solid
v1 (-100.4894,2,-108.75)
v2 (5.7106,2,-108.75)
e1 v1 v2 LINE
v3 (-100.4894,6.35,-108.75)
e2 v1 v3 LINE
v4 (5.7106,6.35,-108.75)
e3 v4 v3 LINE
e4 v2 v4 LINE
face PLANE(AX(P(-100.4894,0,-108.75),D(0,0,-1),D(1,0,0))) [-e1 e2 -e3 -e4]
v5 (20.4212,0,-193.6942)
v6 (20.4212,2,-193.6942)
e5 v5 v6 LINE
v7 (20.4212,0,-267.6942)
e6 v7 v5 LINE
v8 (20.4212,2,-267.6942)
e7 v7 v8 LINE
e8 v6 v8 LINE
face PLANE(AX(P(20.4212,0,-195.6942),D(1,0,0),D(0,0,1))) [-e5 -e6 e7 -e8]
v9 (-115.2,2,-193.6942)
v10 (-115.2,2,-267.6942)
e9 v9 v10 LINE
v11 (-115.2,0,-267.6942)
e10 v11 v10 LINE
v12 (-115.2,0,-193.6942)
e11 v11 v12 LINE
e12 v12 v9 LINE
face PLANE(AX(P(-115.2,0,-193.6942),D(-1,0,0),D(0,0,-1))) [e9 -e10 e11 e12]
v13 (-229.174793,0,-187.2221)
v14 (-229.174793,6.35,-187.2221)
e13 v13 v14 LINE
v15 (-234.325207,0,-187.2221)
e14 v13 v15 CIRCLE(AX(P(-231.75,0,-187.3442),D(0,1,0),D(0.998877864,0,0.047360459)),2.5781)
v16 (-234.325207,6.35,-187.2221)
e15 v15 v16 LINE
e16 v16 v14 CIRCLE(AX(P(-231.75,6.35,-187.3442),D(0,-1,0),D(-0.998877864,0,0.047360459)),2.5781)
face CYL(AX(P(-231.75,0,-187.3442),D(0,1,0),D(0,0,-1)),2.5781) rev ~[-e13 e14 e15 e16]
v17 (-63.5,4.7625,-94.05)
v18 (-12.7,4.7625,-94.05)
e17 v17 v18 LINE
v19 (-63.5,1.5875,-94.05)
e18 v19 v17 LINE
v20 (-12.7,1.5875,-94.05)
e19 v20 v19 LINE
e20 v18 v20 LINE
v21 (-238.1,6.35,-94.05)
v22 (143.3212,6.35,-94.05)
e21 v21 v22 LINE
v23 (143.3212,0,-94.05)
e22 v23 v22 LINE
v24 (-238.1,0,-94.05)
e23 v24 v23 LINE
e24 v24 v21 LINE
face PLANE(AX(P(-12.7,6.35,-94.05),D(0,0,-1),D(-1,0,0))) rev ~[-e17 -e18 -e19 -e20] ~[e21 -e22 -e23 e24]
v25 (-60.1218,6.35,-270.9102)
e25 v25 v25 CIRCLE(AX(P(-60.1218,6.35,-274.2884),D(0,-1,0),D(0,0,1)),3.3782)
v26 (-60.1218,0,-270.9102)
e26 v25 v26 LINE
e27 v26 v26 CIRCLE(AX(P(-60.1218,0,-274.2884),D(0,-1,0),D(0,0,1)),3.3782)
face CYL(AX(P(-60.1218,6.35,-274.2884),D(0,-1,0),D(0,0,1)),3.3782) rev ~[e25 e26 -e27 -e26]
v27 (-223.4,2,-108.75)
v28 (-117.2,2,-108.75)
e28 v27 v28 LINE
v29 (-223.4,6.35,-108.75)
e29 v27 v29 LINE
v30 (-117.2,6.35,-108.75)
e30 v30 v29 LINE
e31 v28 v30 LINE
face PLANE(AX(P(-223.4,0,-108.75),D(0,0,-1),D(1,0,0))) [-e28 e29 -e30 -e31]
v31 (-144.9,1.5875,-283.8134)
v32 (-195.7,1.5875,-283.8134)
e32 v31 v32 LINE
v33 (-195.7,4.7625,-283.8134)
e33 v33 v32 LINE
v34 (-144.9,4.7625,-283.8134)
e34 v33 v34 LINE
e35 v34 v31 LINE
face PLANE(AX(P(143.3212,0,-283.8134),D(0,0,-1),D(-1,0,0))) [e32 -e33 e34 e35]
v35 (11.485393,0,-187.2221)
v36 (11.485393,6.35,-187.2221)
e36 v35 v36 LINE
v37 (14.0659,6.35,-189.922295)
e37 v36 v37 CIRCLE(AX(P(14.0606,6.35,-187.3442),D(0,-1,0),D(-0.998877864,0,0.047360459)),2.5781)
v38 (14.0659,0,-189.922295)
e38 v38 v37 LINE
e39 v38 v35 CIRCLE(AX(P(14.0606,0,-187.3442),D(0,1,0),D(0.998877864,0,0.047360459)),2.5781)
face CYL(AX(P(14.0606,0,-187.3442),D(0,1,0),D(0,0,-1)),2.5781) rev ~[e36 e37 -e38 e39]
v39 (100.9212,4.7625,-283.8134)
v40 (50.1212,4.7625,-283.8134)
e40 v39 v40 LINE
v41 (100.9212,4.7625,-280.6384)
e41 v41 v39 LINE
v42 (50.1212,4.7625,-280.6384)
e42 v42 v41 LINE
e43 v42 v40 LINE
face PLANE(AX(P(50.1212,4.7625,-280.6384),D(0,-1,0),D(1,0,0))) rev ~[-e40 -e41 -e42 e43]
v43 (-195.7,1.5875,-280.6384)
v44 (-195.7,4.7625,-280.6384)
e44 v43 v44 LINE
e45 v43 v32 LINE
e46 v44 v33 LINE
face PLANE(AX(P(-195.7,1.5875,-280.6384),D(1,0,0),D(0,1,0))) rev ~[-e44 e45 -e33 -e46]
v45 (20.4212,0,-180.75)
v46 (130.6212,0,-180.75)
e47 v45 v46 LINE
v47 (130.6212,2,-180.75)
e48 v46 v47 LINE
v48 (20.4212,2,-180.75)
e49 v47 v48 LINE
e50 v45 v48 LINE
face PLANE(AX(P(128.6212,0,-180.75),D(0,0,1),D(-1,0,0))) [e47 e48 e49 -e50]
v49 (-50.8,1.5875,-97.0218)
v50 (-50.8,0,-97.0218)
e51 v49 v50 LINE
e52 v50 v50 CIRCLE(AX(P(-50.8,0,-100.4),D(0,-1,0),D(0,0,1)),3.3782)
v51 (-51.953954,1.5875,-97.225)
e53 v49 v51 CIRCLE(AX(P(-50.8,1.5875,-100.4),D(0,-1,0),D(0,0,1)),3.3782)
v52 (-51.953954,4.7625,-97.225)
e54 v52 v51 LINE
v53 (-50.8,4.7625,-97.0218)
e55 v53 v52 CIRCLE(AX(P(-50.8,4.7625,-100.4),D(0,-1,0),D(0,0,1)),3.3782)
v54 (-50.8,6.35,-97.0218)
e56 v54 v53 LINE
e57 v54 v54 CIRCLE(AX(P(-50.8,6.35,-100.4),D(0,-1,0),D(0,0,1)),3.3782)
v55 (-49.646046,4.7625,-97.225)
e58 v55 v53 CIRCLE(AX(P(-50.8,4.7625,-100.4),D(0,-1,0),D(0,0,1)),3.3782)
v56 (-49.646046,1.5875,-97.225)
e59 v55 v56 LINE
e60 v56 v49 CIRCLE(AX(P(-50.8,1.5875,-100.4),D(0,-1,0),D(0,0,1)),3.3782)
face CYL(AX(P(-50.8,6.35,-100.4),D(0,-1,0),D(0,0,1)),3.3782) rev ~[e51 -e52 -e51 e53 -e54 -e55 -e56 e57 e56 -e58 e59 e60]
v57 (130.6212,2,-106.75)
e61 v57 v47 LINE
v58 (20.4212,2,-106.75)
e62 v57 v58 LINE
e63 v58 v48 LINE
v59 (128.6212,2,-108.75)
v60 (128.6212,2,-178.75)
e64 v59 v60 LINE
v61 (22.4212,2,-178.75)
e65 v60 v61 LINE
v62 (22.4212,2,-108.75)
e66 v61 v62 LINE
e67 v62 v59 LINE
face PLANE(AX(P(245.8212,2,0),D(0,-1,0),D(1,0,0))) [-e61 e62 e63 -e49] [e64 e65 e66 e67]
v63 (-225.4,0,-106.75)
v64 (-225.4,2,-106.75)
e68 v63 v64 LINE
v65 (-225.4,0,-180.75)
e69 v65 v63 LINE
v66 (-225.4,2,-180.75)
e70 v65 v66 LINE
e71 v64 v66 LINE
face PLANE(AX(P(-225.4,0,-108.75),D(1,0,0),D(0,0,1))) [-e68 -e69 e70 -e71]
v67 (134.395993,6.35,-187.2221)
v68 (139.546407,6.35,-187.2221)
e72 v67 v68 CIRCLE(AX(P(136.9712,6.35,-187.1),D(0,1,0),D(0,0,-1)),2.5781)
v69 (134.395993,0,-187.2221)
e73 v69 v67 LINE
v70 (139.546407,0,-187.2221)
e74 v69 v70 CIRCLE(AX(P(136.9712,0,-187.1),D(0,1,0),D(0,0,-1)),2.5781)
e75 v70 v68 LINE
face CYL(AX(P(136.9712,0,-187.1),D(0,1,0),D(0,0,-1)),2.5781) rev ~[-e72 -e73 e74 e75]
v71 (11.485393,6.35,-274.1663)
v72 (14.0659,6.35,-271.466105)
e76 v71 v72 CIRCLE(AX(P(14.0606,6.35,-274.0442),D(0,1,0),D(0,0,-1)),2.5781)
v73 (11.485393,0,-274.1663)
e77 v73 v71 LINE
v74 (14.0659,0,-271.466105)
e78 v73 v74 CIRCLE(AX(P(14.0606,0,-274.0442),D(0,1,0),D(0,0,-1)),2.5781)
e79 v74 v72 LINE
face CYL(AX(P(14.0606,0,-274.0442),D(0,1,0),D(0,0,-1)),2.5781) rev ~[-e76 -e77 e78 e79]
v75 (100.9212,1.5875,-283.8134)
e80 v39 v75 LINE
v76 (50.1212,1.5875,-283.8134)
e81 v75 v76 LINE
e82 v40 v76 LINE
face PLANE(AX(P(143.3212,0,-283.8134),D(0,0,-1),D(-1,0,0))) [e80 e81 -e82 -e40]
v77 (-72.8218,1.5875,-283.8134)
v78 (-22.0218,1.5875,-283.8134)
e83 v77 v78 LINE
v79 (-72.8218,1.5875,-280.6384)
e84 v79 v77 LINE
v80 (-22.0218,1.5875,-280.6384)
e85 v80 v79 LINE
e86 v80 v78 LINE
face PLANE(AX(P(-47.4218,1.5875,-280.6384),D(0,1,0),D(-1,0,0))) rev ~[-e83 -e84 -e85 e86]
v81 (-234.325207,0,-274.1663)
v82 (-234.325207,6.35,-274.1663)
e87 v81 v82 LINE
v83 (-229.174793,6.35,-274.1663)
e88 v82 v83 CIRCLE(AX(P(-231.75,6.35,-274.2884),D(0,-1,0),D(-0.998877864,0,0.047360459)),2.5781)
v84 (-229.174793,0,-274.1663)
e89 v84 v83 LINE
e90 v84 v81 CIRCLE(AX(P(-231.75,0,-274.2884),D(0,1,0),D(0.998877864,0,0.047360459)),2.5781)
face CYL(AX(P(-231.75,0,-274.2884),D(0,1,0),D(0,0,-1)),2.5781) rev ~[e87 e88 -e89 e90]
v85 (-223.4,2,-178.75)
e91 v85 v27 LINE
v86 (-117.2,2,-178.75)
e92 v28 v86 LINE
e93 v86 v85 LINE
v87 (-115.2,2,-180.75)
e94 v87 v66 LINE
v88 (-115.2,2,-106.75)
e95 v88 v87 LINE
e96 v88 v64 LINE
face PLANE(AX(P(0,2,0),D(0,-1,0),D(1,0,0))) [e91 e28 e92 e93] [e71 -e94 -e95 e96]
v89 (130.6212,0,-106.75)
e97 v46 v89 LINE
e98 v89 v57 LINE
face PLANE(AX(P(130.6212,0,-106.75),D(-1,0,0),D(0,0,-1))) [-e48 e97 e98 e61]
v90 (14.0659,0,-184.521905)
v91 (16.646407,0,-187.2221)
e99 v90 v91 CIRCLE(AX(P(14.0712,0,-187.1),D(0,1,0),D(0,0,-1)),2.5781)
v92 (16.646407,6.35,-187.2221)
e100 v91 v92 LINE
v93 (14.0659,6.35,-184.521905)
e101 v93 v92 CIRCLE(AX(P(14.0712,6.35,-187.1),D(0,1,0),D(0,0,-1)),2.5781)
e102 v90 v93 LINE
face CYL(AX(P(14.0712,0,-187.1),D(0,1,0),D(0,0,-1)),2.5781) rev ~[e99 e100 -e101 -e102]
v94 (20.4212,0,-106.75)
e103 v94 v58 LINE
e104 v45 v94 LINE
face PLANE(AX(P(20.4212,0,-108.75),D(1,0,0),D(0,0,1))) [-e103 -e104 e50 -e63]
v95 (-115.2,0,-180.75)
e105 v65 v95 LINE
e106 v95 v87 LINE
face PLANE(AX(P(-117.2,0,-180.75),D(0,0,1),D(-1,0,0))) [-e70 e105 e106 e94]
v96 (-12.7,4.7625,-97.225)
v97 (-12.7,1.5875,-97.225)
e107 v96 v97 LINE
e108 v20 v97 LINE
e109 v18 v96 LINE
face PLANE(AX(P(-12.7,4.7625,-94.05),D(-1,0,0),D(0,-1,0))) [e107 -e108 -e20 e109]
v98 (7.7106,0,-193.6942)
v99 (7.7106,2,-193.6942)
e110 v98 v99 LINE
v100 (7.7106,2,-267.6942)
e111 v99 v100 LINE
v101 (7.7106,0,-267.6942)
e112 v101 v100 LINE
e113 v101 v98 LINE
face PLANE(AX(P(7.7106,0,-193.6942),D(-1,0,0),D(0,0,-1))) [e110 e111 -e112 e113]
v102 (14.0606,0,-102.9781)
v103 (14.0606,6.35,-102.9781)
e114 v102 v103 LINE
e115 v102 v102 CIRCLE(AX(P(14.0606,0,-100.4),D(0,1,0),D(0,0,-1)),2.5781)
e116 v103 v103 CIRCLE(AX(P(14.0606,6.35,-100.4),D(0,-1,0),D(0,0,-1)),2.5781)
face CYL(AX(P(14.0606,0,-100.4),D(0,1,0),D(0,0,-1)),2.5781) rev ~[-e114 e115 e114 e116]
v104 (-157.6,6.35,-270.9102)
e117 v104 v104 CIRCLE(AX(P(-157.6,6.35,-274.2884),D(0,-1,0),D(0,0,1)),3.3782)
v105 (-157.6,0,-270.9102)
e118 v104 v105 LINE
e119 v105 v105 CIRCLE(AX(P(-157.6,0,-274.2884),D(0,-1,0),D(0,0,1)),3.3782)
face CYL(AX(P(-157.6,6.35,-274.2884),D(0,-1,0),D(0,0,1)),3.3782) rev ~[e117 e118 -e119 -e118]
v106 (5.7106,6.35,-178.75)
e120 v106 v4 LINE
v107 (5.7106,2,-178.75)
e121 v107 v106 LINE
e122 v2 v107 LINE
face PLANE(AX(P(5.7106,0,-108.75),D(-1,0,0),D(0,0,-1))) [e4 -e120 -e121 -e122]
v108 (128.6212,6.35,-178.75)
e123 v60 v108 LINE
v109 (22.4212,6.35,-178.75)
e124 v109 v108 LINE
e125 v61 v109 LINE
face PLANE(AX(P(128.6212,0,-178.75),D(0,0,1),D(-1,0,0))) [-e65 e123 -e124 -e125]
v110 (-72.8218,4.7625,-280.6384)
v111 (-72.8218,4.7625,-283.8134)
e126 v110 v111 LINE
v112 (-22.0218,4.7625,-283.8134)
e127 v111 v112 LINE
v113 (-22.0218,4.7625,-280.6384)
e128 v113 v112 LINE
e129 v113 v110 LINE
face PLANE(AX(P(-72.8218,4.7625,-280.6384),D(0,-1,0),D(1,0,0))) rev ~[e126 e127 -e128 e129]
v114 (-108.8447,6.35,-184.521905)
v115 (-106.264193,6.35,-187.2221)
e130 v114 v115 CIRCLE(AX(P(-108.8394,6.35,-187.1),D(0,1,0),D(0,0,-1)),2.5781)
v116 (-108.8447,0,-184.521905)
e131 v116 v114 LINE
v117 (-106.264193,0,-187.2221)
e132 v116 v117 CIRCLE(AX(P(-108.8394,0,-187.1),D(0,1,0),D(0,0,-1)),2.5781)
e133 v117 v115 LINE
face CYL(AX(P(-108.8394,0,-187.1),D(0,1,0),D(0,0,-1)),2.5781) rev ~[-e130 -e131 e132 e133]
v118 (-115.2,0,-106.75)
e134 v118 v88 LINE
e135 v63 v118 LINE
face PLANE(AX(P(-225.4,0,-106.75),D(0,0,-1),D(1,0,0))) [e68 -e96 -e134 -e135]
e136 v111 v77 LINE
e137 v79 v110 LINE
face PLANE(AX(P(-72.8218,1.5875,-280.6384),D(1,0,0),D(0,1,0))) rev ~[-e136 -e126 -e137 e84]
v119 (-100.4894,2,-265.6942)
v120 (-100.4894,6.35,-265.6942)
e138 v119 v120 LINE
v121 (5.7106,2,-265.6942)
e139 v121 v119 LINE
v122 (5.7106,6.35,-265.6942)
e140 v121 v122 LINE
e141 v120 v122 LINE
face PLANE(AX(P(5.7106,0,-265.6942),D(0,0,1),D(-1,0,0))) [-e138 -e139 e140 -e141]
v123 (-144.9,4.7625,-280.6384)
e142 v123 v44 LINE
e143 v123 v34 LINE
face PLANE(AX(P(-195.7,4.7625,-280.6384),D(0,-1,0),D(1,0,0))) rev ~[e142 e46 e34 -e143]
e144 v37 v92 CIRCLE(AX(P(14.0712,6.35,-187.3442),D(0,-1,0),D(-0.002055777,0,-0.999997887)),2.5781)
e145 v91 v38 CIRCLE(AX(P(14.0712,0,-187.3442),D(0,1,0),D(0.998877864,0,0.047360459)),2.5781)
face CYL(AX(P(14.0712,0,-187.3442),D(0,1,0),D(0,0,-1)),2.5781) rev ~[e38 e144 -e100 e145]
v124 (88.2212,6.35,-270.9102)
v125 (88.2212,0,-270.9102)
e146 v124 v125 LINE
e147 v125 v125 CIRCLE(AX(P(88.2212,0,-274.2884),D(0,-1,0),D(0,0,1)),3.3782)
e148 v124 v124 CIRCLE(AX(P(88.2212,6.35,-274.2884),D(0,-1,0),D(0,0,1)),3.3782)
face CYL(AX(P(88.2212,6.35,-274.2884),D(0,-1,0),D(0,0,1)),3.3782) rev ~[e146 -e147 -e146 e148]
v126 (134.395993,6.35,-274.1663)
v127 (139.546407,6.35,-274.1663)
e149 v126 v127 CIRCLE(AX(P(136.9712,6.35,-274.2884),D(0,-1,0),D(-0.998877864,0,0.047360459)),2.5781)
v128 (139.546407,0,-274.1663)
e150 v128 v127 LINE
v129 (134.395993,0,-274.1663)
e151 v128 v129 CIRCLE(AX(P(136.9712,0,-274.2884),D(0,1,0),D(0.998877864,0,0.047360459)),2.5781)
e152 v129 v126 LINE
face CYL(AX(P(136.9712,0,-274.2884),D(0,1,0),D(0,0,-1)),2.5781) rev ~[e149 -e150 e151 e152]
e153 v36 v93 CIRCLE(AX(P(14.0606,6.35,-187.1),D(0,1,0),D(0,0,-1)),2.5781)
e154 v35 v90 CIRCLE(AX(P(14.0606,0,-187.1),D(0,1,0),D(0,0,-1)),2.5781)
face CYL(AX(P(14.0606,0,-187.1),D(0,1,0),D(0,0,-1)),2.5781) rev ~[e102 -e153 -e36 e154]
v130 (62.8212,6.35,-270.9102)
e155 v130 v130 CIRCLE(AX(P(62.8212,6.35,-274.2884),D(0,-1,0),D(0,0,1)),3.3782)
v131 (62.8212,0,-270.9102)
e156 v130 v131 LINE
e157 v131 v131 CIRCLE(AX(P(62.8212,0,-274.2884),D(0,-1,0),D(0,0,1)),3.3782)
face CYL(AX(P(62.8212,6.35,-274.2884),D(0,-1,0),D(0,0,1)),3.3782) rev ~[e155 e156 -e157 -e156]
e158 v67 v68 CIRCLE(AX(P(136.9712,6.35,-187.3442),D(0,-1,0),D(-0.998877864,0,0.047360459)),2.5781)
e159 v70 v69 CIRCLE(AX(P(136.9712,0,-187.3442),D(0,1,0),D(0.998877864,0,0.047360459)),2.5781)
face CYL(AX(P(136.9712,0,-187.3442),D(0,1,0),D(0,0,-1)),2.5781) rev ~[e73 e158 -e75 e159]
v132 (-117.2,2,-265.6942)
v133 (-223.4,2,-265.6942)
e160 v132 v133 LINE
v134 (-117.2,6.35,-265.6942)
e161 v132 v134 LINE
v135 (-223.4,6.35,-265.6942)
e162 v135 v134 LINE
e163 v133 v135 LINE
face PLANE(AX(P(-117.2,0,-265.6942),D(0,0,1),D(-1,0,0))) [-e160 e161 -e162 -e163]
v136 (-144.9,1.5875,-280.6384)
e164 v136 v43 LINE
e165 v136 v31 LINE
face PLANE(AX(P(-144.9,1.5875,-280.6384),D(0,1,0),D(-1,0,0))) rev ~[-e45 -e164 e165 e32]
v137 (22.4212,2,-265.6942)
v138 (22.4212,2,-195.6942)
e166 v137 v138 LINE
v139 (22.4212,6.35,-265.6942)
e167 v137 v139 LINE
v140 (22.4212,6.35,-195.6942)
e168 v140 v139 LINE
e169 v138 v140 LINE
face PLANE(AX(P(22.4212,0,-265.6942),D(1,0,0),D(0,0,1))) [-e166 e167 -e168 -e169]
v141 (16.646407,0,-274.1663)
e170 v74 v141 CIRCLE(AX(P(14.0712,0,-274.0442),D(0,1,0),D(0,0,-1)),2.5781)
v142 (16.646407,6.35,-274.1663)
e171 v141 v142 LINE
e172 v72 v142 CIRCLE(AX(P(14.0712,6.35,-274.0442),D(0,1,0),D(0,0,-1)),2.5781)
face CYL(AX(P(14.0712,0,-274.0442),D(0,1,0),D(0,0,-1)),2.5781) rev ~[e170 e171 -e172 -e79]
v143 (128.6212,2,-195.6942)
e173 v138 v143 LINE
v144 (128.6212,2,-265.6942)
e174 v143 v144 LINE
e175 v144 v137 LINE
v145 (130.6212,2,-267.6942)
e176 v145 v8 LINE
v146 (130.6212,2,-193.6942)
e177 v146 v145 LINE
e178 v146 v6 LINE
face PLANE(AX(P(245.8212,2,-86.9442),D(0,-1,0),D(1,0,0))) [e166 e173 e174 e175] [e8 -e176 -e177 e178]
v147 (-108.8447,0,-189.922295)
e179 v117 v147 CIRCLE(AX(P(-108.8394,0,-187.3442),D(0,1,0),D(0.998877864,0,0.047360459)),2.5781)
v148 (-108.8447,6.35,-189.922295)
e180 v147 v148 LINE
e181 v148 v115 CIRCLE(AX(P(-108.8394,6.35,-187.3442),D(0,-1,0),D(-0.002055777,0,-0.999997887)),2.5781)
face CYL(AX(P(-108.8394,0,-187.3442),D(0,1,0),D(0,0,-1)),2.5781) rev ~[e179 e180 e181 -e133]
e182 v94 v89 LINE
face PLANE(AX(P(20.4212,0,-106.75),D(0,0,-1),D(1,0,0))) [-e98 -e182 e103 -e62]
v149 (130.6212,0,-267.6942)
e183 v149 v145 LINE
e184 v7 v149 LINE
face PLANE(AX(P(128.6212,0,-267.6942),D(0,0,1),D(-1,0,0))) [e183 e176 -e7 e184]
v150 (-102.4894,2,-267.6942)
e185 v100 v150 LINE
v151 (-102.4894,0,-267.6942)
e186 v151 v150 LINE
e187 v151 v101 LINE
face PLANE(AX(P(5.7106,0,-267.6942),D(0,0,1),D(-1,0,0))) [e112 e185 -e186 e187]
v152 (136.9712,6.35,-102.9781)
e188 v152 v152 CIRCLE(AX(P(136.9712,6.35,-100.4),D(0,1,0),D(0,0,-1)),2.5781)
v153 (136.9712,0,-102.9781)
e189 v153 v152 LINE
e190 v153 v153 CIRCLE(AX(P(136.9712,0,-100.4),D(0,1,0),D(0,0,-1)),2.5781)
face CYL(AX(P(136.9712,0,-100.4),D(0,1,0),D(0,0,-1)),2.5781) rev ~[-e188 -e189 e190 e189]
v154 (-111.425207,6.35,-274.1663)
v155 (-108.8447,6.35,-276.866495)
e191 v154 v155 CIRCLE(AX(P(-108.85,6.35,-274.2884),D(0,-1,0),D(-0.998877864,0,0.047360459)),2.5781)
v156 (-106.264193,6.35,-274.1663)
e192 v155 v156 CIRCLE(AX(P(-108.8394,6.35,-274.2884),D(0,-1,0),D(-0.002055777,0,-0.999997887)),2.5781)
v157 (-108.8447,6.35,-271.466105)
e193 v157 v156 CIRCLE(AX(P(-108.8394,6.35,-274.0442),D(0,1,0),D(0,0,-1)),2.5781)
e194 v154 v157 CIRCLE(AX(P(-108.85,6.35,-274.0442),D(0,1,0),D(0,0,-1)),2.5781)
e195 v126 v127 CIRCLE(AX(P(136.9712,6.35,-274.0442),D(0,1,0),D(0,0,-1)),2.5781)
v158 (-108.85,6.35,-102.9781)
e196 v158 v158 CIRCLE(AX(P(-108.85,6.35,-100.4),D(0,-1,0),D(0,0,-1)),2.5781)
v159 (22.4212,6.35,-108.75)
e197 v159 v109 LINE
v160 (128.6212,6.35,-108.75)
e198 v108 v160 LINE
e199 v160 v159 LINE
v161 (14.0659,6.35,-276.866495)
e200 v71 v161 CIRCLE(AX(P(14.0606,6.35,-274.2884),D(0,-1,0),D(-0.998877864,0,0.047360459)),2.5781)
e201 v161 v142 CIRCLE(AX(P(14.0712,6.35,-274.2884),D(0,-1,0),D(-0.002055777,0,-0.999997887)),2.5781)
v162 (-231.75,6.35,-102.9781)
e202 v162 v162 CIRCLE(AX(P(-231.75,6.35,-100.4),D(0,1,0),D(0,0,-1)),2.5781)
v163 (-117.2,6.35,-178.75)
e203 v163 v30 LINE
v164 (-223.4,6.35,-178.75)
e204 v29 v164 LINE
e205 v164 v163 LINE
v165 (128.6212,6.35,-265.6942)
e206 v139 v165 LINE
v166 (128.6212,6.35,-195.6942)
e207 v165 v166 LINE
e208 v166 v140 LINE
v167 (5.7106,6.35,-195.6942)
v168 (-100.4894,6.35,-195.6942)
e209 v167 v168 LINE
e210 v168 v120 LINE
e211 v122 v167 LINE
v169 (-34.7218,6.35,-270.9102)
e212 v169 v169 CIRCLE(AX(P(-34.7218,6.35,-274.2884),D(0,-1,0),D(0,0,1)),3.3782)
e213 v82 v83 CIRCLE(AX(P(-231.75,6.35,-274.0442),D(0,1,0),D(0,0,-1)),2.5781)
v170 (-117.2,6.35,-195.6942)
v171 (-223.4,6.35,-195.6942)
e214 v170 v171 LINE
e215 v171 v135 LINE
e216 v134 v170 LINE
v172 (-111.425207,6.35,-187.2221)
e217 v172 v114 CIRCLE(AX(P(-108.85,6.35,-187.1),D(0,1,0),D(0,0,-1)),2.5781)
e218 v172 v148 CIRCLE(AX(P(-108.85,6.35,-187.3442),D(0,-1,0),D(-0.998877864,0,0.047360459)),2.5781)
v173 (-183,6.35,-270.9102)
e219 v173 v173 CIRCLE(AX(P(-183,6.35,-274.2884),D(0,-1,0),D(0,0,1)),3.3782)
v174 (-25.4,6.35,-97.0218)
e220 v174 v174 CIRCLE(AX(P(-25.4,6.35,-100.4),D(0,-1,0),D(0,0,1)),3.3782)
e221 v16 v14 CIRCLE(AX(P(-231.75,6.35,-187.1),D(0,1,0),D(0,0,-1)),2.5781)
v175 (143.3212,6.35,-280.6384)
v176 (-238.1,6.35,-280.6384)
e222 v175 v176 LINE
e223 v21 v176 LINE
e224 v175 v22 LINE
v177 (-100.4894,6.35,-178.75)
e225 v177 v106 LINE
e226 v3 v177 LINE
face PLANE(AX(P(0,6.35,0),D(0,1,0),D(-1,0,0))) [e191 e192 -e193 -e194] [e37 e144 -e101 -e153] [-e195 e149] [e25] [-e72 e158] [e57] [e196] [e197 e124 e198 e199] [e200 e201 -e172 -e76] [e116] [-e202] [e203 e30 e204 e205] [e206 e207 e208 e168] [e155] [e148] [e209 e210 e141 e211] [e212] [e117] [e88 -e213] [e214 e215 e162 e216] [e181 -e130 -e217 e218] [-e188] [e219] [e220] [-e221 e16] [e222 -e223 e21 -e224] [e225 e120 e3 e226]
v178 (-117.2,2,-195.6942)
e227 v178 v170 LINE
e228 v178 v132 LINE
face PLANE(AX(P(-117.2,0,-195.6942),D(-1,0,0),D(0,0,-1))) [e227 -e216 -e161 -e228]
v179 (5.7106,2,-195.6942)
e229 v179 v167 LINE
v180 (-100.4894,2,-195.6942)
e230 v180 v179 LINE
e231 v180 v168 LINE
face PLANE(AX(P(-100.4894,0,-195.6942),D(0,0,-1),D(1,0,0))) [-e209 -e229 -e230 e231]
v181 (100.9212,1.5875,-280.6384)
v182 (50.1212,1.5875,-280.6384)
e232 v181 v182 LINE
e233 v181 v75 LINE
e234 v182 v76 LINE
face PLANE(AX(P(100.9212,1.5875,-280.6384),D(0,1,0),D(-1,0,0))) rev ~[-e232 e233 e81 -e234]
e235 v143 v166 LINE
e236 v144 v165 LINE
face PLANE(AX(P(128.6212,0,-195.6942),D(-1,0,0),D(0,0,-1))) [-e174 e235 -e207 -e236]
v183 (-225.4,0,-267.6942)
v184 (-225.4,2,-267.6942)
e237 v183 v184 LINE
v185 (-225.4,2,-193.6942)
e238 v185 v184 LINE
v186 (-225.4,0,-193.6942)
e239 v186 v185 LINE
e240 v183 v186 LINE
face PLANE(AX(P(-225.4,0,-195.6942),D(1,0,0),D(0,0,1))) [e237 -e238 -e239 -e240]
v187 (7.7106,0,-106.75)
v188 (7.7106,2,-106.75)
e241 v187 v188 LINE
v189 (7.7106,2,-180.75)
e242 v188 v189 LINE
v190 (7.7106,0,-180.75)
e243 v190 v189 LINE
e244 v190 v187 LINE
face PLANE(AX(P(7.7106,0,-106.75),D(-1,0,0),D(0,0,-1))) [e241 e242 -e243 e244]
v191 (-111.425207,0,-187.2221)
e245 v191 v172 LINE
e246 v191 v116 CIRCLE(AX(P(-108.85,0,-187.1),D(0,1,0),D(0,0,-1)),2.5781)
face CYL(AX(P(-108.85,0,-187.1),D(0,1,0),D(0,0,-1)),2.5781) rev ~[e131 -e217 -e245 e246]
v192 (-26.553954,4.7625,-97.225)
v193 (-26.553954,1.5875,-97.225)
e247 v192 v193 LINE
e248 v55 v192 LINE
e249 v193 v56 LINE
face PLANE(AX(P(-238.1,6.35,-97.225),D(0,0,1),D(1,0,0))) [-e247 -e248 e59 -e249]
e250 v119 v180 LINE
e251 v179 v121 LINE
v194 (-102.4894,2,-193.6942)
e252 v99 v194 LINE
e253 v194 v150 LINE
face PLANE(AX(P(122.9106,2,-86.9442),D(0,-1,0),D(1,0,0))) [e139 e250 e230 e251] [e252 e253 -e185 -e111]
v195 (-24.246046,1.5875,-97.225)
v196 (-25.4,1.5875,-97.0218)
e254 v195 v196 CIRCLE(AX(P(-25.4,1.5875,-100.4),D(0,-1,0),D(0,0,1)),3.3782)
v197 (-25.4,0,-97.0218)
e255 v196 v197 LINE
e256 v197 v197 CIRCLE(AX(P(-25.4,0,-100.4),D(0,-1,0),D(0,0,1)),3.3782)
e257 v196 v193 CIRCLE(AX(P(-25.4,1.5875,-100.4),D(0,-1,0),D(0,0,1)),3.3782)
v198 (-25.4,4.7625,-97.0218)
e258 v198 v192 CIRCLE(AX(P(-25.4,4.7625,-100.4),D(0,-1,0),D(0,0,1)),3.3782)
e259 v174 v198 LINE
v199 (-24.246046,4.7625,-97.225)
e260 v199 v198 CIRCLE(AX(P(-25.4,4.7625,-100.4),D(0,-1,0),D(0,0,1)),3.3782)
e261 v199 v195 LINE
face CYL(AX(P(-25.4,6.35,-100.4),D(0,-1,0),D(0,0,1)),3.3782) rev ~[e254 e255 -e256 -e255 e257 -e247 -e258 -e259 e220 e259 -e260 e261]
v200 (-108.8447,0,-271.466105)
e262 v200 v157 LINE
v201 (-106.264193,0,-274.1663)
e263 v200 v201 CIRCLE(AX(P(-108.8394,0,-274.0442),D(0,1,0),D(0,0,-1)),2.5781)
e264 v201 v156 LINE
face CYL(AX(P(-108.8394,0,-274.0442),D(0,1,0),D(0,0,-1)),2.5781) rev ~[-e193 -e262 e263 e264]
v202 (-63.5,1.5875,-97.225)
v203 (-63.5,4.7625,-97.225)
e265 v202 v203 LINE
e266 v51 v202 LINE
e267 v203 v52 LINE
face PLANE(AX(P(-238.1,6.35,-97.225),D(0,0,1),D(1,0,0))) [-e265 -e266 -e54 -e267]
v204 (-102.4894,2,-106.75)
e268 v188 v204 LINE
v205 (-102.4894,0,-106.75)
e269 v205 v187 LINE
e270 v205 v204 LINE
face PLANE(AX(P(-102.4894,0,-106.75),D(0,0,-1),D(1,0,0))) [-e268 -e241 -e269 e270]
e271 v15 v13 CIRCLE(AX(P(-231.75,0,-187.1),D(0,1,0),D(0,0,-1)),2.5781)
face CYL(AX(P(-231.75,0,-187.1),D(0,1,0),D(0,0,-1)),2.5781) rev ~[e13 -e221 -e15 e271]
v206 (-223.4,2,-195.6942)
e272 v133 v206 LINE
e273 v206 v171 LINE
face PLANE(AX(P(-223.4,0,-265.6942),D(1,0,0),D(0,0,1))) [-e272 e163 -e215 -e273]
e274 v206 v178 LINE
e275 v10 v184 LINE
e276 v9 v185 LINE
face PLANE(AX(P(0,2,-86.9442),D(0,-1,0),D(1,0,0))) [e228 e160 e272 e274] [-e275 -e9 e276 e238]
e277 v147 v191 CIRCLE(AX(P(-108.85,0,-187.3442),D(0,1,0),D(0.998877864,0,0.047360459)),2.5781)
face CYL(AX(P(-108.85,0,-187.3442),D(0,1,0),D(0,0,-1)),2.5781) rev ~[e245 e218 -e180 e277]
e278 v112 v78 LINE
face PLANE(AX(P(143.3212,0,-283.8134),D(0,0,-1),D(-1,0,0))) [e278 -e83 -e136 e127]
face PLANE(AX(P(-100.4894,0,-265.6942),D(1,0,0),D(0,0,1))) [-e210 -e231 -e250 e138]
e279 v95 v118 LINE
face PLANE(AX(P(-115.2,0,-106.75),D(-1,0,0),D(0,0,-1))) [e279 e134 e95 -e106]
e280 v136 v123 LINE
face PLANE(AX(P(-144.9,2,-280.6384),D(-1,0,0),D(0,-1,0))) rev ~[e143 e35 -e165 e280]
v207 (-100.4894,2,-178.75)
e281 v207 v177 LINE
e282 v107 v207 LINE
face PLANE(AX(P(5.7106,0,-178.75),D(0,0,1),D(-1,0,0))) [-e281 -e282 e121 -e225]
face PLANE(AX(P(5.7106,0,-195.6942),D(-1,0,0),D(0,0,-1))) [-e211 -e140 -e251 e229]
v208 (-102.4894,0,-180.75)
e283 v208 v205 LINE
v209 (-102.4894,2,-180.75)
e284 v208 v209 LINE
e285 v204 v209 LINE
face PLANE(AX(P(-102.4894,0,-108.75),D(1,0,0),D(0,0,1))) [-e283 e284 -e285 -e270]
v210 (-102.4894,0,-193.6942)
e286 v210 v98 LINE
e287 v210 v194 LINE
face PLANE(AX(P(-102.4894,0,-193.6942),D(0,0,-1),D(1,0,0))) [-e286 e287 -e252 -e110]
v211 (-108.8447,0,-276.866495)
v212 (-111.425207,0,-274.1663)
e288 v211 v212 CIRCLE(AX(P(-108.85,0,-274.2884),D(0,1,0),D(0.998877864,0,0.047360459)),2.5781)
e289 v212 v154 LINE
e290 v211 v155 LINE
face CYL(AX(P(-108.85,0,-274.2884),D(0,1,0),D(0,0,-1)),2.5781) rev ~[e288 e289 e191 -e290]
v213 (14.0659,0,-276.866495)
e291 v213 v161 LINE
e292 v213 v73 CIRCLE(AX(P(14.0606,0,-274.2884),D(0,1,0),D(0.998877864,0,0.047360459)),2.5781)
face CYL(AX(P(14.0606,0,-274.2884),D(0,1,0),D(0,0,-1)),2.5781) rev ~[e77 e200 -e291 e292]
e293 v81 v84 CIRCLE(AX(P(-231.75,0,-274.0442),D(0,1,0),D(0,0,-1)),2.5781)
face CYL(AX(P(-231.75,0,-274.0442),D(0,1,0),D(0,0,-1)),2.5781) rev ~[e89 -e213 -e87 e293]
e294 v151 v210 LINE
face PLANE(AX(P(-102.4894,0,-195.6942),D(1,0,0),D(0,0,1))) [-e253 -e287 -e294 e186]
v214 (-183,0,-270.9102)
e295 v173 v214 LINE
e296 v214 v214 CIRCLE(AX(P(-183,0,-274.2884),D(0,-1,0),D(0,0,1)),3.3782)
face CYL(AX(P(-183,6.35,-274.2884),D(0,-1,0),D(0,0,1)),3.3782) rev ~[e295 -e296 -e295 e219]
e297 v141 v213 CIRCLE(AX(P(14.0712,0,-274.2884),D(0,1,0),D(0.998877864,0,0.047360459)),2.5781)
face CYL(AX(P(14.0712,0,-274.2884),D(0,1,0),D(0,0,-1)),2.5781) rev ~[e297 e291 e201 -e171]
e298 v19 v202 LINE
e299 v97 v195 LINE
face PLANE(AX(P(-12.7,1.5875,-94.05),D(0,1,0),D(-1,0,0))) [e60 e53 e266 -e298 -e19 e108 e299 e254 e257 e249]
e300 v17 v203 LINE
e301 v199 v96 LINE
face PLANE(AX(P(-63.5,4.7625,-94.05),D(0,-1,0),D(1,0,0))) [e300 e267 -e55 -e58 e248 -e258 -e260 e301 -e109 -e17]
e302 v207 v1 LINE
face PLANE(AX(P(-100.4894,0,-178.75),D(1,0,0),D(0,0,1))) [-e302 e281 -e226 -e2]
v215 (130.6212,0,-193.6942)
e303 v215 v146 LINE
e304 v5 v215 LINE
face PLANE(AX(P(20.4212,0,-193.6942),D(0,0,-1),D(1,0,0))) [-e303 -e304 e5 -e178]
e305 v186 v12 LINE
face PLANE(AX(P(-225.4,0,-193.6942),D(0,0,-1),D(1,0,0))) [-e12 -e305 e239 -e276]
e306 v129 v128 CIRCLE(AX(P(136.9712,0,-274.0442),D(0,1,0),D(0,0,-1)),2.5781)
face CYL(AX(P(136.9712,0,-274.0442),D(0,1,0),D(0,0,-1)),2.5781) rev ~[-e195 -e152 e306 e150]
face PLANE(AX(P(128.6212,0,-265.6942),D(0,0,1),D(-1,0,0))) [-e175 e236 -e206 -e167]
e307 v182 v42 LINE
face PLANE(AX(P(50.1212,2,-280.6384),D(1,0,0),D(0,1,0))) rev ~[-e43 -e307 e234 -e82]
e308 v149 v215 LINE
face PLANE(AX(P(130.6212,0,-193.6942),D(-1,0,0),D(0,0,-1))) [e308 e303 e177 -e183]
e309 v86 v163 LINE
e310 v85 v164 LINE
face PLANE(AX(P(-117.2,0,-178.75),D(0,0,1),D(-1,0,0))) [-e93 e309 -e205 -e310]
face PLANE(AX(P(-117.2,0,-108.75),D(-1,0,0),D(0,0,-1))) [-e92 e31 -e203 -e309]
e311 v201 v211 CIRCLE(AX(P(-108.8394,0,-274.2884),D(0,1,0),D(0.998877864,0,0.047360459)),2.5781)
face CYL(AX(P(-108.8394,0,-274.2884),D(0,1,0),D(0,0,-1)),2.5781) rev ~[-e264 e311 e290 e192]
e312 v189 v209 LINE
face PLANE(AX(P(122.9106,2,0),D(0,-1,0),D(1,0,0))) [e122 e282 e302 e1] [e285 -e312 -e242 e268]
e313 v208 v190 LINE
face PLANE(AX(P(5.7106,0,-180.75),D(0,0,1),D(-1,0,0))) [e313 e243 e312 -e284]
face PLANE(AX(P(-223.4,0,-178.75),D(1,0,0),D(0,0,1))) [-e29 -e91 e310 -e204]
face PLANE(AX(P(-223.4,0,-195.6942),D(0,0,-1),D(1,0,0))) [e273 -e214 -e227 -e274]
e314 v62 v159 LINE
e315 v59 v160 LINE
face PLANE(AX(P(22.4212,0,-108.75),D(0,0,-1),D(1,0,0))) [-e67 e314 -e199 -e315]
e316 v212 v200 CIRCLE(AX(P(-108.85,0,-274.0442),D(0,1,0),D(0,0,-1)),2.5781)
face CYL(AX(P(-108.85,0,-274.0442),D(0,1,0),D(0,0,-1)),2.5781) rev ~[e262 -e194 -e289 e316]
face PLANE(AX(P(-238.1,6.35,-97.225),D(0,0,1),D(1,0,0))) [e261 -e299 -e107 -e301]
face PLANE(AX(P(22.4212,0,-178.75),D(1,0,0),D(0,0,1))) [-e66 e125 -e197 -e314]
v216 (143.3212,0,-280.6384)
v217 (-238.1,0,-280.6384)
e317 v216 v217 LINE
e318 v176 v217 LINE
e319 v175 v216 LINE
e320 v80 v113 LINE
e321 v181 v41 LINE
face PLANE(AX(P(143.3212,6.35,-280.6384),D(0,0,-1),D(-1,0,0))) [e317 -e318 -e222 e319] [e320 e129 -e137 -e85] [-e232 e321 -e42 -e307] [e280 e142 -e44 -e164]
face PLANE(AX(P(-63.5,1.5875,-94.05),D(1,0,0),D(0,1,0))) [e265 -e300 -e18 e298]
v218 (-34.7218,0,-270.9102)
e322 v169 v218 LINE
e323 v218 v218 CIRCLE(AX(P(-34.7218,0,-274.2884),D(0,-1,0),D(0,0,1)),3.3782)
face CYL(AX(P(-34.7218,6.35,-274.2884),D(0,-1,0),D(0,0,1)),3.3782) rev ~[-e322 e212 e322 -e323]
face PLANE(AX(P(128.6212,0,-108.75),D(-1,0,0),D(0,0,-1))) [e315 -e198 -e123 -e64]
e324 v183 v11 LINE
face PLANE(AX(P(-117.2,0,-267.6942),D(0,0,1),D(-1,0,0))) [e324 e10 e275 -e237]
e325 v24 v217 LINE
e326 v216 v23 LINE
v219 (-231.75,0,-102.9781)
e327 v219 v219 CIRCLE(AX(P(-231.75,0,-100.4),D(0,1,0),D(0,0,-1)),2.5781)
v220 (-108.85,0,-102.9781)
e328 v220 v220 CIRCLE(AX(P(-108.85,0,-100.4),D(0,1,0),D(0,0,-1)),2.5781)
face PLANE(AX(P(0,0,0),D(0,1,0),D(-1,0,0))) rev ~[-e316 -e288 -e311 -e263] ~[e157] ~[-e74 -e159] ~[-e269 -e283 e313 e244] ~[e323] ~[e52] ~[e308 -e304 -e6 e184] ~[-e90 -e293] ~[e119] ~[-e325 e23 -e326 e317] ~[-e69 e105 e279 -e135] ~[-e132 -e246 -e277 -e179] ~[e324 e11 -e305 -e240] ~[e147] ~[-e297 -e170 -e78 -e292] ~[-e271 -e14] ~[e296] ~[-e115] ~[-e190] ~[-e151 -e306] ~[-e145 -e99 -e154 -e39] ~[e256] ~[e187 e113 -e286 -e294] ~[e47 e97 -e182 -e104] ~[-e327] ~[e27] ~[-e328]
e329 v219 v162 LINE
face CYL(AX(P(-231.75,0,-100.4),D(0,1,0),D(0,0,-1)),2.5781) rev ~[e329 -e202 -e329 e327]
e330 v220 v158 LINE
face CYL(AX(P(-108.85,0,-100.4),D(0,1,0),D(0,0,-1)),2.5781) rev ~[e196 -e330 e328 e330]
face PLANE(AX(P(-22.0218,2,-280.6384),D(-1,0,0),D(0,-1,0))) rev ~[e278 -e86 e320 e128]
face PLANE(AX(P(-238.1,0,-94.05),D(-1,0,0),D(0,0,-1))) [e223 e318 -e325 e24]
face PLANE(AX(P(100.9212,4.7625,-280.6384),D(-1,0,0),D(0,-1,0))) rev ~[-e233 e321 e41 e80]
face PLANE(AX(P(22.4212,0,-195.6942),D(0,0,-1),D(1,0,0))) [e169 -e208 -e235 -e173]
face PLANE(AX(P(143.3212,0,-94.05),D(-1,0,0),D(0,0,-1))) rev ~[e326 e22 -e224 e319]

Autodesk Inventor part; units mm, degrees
ref_plane "YZ Plane" through (0, 0, 0) normal (1, 0, 0) x (0, 1, 0)
ref_plane "XZ Plane" through (0, 0, 0) normal (0, 1, 0) x (-1, 0, 0)
ref_plane "XY Plane" through (0, 0, 0) normal (0, 0, 1) x (1, 0, 0)
sketch "Sketch1" plane through (0, 0, 0) normal (0, 1, 0) x (-1, 0, 0)
  line L0 (0, 0) -> (76.2, 0)
  line L1 (76.2, 0) -> (76.2, -50.8)
  line L2 (76.2, -50.8) -> (0, -50.8)
  line L3 (0, -50.8) -> (0, 0)
  line L4 (38.1, 0) -> (38.1, -6.35)
  line L5 (38.1, -6.35) -> (12.7, -6.35)
  line L6 (38.1, -6.35) -> (63.5, -6.35)
  line L7 (38.1, -6.35) -> (63.5, -6.35) construction
  line L8 (63.5, -6.35) -> (63.5, -19.05)
  line L9 (12.7, -6.35) -> (12.7, -19.05)
  line L10 (63.5, -19.05) -> (63.5, -25.4)
  line L11 (12.7, -19.05) -> (12.7, -25.4)
  line L12 (63.5, -19.05) -> (63.5, -94.05)
  line L13 (63.5, -19.05) -> (138.5, -19.05) construction
  line L14 (12.7, -19.05) -> (12.7, -94.05)
  line L15 (63.5, -94.05) -> (38.1, -94.05)
  line L16 (38.1, -94.05) -> (38.1, -294.05)
  line L17 (38.1, -94.05) -> (238.1, -94.05) construction
  line L18 (238.1, -494.05) -> (-161.9, -494.05)
  line L19 (-161.9, -494.05) -> (-161.9, -94.05)
  line L20 (-161.9, -94.05) -> (238.1, -94.05)
  line L21 (238.1, -94.05) -> (238.1, -494.05)
  line L22 (238.1, -494.05) -> (-161.9, -94.05) construction
  line L23 (-161.9, -494.05) -> (238.1, -94.05) construction
  point P0 (63.5, -50.8)
  point P1 (12.7, -50.8)
  dimension "d0" = 76.2
  dimension "d1" = 50.8
  dimension "d2" = 6.35
  dimension "d3" = 25.4
  dimension "d4" = 25.4
  dimension "d5" = 0
  dimension "d6" = 12.7
  dimension "d7" = 12.7
  dimension "d8" = 6.35
  dimension "d9" = 6.35
  dimension "d10" = 75
  dimension "d11" = 90
  dimension "d12" = 75
  dimension "d13" = 25.4
  dimension "d14" = 200
  dimension "d15" = 90
  dimension "d16" = 400
  dimension "d17" = 400
extrude "Extrusion1" add sketch "Sketch1" along normal blind 6.35
hole "Hole1" at (-12.7, 0, -6.35) at (-12.7, 0, -19.05) at (-63.5, 0, -6.35) at (-63.5, 0, -19.05) direction (0, 1, 0) diameter 6.604 end through all
sketch "Sketch2" plane through (0, 0, 0) normal (0, -1, 0) x (1, 0, 0)
  line L0 (-238.1, -94.05) -> (-63.5, -94.05) projected
  line L1 (-238.1, -94.05) -> (-238.1, -100.4)
  line L2 (-238.1, -94.05) -> (-231.75, -94.05) construction
  line L3 (-238.1, -100.4) -> (-231.75, -100.4)
  line L4 (-231.75, -100.4) -> (-225.4, -100.4)
  line L5 (-225.4, -100.4) -> (-225.4, -106.75)
  line L6 (-225.4, -106.75) -> (-115.2, -106.75)
  line L7 (-115.2, -106.75) -> (-115.2, -180.75)
  line L8 (-115.2, -180.75) -> (-225.4, -180.75)
  line L9 (-225.4, -180.75) -> (-225.4, -106.75)
  line L10 (-115.2, -106.75) -> (-115.2, -100.4)
  line L11 (-115.2, -100.4) -> (-108.85, -100.4)
  line L12 (-225.4, -180.75) -> (-231.75, -180.75)
  line L13 (-231.75, -180.75) -> (-231.75, -187.1)
  line L14 (-115.2, -180.75) -> (-115.2, -187.1)
  line L15 (-115.2, -187.1) -> (-108.85, -187.1)
  line L16 (-225.4, -106.75) -> (-225.4, -114.75)
  line L17 (-225.4, -106.75) -> (-217.4, -106.75) construction
  line L18 (-225.4, -106.75) -> (-223.4, -106.75)
  line L19 (-223.4, -106.75) -> (-223.4, -108.75)
  line L20 (-223.4, -108.75) -> (-225.4, -108.75)
  line L21 (-225.4, -108.75) -> (-225.4, -106.75)
  line L22 (-115.2, -180.75) -> (-117.2, -180.75)
  line L23 (-117.2, -180.75) -> (-117.2, -178.75)
  line L24 (-117.2, -178.75) -> (-115.2, -178.75)
  line L25 (-115.2, -178.75) -> (-115.2, -180.75)
  line L26 (-223.4, -108.75) -> (-117.2, -108.75)
  line L27 (-117.2, -108.75) -> (-117.2, -178.75)
  line L28 (-117.2, -178.75) -> (-223.4, -178.75)
  line L29 (-223.4, -178.75) -> (-223.4, -108.75)
  point P0 (0, 0)
  dimension "d27" = 6.35
  dimension "d28" = 90
  dimension "d29" = 6.35
  dimension "d30" = 6.35
  dimension "d31" = 6.35
  dimension "d32" = 110.2
  dimension "d33" = 74
  dimension "d34" = 6.35
  dimension "d35" = 6.35
  dimension "d36" = 6.35
  dimension "d37" = 6.35
  dimension "d38" = 6.35
  dimension "d39" = 8
  dimension "d40" = 90
  dimension "d41" = 2
  dimension "d42" = 2
  dimension "d43" = 2
  dimension "d44" = 2
extrude "Extrusion2" cut sketch "Sketch2" against normal through all contours L26 L27 L28 L29
hole "Hole2" at (-231.75, 0, -100.4) at (-231.75, 0, -187.1) at (-108.85, 0, -100.4) at (-108.85, 0, -187.1) direction (0, 1, 0) diameter 5.1562 end through all
extrude "Extrusion3" cut sketch "Sketch2" against normal blind 2 contours L6 L19 L20 L9 | L6 L7 L24 L27 L26 L19 | L20 L29 L28 L23 L8 L9 | L7 L8 L23 L24
pattern_linear "Rectangular Pattern1" count 3 spacing 122.9106 along (1, 0, 0) count 4 spacing 86.9442 along (0, 0, -1) of "Extrusion2", "Hole2", "Extrusion3"
sketch "Sketch3" plane through (0, 0, 0) normal (0, -1, 0) x (1, 0, 0)
  circle A0 centre (136.9712, -447.9326) radius 2.5781 projected
  line L0 (136.9712, -447.9326) -> (143.3212, -447.9326)
  line L1 (143.3212, -447.9326) -> (143.3212, -454.2826)
  line L2 (143.3212, -454.2826) -> (136.9712, -454.2826)
  line L3 (136.9712, -454.2826) -> (136.9712, -447.9326)
  line L4 (-12.7, -94.05) -> (161.9, -94.05) projected
  line L5 (143.3212, -454.2826) -> (161.9, -454.2826)
  line L6 (161.9, -454.2826) -> (161.9, -94.05)
  line L7 (161.9, -94.05) -> (143.3212, -94.05)
  line L8 (143.3212, -94.05) -> (143.3212, -454.2826)
  line L9 (161.9, -454.2826) -> (-238.1, -454.2826)
  line L10 (-238.1, -454.2826) -> (-238.1, -500.3541)
  line L11 (-238.1, -500.3541) -> (161.9, -500.3541)
  line L12 (161.9, -500.3541) -> (161.9, -454.2826)
  point P0 (0, 0)
  dimension "d62" = 6.35
  dimension "d63" = 6.35
extrude "Extrusion4" cut sketch "Sketch3" against normal through all contours L8 L4 L6 L5 L1 | L2 L5 L12 L11 L10 L9
sketch "Sketch4" plane through (0, 6.35, 0) normal (0, 1, 0) x (1, 0, 0)
  line L0 (-12.7, 94.05) -> (143.3212, 94.05) projected
  line L1 (-76.2, 0) -> (0, 0)
  line L2 (0, 0) -> (0, 94.05)
  line L3 (0, 94.05) -> (-76.2, 94.05)
  line L4 (-76.2, 94.05) -> (-76.2, 0)
  line L5 (-38.1, 94.05) -> (-38.1, 100.4)
  line L6 (-38.1, 100.4) -> (-25.4, 100.4)
  line L7 (-25.4, 100.4) -> (-50.8, 100.4)
  line L8 (-238.1, 454.2826) -> (143.3212, 454.2826)
  line L9 (143.3212, 454.2826) -> (143.3212, 280.6384)
  line L10 (143.3212, 280.6384) -> (-238.1, 280.6384)
  line L11 (-238.1, 280.6384) -> (-238.1, 454.2826)
  dimension "d66" = 6.35
  dimension "d67" = 12.7
  dimension "d68" = 25.4
extrude "Extrusion5" cut sketch "Sketch4" against normal blind 25.4 contours L0 L2 L1 L4 L3
hole "Hole3" at (-50.8, 6.35, -100.4) at (-25.4, 6.35, -100.4) direction (0, -1, 0) diameter 6.7564 end through all clearance for "Socket Head Cap Screw" size "1/4" standard "Ansi Unified Screw Threads"
sketch "Sketch5" plane through (-238.1, 6.35, -94.05) normal (0, 0, 1) x (1, 0, 0)
  line L0 (200, 0) -> (200, -3.175)
  line L1 (174.6, -1.5875) -> (225.4, -1.5875)
  line L2 (225.4, -1.5875) -> (225.4, -4.7625)
  line L3 (225.4, -4.7625) -> (174.6, -4.7625)
  line L4 (174.6, -4.7625) -> (174.6, -1.5875)
  line L5 (174.6, -1.5875) -> (225.4, -4.7625) construction
  line L6 (225.4, -1.5875) -> (174.6, -4.7625) construction
  point P0 (238.1, -6.35)
  dimension "d78" = 3.175
  dimension "d79" = 50.8
  dimension "d80" = 3.175
extrude "Extrusion6" cut sketch "Sketch5" against normal blind 3.175
extrude "Extrusion7" cut sketch "Sketch4" against normal blind 31.75 contours L8 L9 L10 L11
sketch "Sketch6" plane through (143.3212, 0, -280.6384) normal (0, 0, -1) x (-1, 0, 0)
  line L0 (120.9, 6.35) -> (14.7, 6.35) projected
  line L1 (243.8106, 6.35) -> (137.6106, 6.35) projected
  line L2 (366.7212, 6.35) -> (260.5212, 6.35) projected
  line L3 (368.7212, 2) -> (258.5212, 2) projected
  line L4 (243.8106, 2) -> (137.6106, 2) projected
  line L5 (137.6106, 6.35) -> (243.8106, 6.35) projected
  line L6 (14.7, 6.35) -> (120.9, 6.35) projected
  line L7 (120.9, 2) -> (14.7, 2) projected
  line L8 (243.8106, 2) -> (137.6106, 2)
  line L9 (137.6106, 2) -> (190.743, 2)
  line L10 (190.743, 0) -> (190.743, 6.35) projected
  line L11 (190.743, 6.35) -> (197.4994, 6.35) projected
  line L12 (190.743, 6.35) -> (190.743, 3.175)
  line L13 (165.343, 1.5875) -> (216.143, 1.5875)
  line L14 (216.143, 1.5875) -> (216.143, 4.7625)
  line L15 (216.143, 4.7625) -> (165.343, 4.7625)
  line L16 (165.343, 4.7625) -> (165.343, 1.5875)
  line L17 (165.343, 1.5875) -> (216.143, 4.7625) construction
  line L18 (216.143, 1.5875) -> (165.343, 4.7625) construction
  line L19 (14.7, 2) -> (14.7, 6.35) projected
  line L20 (14.7, 2) -> (120.9, 2) projected
  line L21 (14.7, 2) -> (120.9, 2)
  line L22 (120.9, 2) -> (67.8, 2)
  line L23 (120.9, 6.35) -> (14.7, 6.35) projected
  line L24 (67.8, 6.35) -> (67.8, 3.175)
  line L25 (42.4, 1.5875) -> (93.2, 1.5875)
  line L26 (93.2, 1.5875) -> (93.2, 4.7625)
  line L27 (93.2, 4.7625) -> (42.4, 4.7625)
  line L28 (42.4, 4.7625) -> (42.4, 1.5875)
  line L29 (42.4, 1.5875) -> (93.2, 4.7625) construction
  line L30 (93.2, 1.5875) -> (42.4, 4.7625) construction
  line L31 (258.5212, 2) -> (368.7212, 2) projected
  line L32 (313.6212, 2) -> (313.6212, 6.35)
  line L33 (313.6212, 6.35) -> (313.6212, 3.175)
  line L34 (288.2212, 1.5875) -> (339.0212, 1.5875)
  line L35 (339.0212, 1.5875) -> (339.0212, 4.7625)
  line L36 (339.0212, 4.7625) -> (288.2212, 4.7625)
  line L37 (288.2212, 4.7625) -> (288.2212, 1.5875)
  line L38 (288.2212, 1.5875) -> (339.0212, 4.7625) construction
  line L39 (339.0212, 1.5875) -> (288.2212, 4.7625) construction
  point P0 (143.3212, 0)
  dimension "d85" = 3.175
  dimension "d86" = 50.8
  dimension "d87" = 3.175
  dimension "d88" = 3.175
  dimension "d89" = 50.8
  dimension "d90" = 3.175
  dimension "d91" = 3.175
  dimension "d92" = 50.8
  dimension "d93" = 3.175
extrude "Extrusion8" add sketch "Sketch6" along normal blind 3.175 contours L27 L26 L7 L28 | L7 L26 L25 L28 | L35 L34 L37 L3 | L3 L32 L36 L35 | L3 L37 L36 L32 | L14 L13 L10 L4 | L4 L10 L15 L14 | L10 L13 L16 L4 | L4 L16 L15 L10
sketch "Sketch7" plane through (0, 6.35, 0) normal (0, 1, 0) x (1, 0, 0)
  line L0 (50.1212, 283.8134) -> (100.9212, 283.8134) projected
  line L1 (75.5212, 283.8134) -> (75.5212, 274.2884)
  line L2 (75.5212, 274.2884) -> (62.8212, 274.2884)
  line L3 (62.8212, 274.2884) -> (88.2212, 274.2884)
  line L4 (-22.0218, 283.8134) -> (-72.8218, 283.8134) projected
  line L5 (-47.4218, 283.8134) -> (-47.4218, 274.2884)
  line L6 (-47.4218, 274.2884) -> (-60.1218, 274.2884)
  line L7 (-60.1218, 274.2884) -> (-34.7218, 274.2884)
  line L8 (-144.9, 283.8134) -> (-195.7, 283.8134) projected
  line L9 (-170.3, 283.8134) -> (-170.3, 274.2884)
  line L10 (-170.3, 274.2884) -> (-183, 274.2884)
  line L11 (-183, 274.2884) -> (-157.6, 274.2884)
  point P0 (0, 0)
  dimension "d96" = 9.525
  dimension "d97" = 12.7
  dimension "d98" = 25.4
  dimension "d99" = 9.525
  dimension "d100" = 12.7
  dimension "d101" = 25.4
  dimension "d102" = 12.7
  dimension "d103" = 25.4
hole "Hole4" at (-183, 6.35, -274.2884) at (-157.6, 6.35, -274.2884) at (-60.1218, 6.35, -274.2884) at (-34.7218, 6.35, -274.2884) at (88.2212, 6.35, -274.2884) at (62.8212, 6.35, -274.2884) direction (0, -1, 0) diameter 6.7564 end through all clearance for "Socket Head Cap Screw" size "1/4" standard "Ansi Unified Screw Threads"
properties part number "WellPlateFrame - 3L - Part2"
